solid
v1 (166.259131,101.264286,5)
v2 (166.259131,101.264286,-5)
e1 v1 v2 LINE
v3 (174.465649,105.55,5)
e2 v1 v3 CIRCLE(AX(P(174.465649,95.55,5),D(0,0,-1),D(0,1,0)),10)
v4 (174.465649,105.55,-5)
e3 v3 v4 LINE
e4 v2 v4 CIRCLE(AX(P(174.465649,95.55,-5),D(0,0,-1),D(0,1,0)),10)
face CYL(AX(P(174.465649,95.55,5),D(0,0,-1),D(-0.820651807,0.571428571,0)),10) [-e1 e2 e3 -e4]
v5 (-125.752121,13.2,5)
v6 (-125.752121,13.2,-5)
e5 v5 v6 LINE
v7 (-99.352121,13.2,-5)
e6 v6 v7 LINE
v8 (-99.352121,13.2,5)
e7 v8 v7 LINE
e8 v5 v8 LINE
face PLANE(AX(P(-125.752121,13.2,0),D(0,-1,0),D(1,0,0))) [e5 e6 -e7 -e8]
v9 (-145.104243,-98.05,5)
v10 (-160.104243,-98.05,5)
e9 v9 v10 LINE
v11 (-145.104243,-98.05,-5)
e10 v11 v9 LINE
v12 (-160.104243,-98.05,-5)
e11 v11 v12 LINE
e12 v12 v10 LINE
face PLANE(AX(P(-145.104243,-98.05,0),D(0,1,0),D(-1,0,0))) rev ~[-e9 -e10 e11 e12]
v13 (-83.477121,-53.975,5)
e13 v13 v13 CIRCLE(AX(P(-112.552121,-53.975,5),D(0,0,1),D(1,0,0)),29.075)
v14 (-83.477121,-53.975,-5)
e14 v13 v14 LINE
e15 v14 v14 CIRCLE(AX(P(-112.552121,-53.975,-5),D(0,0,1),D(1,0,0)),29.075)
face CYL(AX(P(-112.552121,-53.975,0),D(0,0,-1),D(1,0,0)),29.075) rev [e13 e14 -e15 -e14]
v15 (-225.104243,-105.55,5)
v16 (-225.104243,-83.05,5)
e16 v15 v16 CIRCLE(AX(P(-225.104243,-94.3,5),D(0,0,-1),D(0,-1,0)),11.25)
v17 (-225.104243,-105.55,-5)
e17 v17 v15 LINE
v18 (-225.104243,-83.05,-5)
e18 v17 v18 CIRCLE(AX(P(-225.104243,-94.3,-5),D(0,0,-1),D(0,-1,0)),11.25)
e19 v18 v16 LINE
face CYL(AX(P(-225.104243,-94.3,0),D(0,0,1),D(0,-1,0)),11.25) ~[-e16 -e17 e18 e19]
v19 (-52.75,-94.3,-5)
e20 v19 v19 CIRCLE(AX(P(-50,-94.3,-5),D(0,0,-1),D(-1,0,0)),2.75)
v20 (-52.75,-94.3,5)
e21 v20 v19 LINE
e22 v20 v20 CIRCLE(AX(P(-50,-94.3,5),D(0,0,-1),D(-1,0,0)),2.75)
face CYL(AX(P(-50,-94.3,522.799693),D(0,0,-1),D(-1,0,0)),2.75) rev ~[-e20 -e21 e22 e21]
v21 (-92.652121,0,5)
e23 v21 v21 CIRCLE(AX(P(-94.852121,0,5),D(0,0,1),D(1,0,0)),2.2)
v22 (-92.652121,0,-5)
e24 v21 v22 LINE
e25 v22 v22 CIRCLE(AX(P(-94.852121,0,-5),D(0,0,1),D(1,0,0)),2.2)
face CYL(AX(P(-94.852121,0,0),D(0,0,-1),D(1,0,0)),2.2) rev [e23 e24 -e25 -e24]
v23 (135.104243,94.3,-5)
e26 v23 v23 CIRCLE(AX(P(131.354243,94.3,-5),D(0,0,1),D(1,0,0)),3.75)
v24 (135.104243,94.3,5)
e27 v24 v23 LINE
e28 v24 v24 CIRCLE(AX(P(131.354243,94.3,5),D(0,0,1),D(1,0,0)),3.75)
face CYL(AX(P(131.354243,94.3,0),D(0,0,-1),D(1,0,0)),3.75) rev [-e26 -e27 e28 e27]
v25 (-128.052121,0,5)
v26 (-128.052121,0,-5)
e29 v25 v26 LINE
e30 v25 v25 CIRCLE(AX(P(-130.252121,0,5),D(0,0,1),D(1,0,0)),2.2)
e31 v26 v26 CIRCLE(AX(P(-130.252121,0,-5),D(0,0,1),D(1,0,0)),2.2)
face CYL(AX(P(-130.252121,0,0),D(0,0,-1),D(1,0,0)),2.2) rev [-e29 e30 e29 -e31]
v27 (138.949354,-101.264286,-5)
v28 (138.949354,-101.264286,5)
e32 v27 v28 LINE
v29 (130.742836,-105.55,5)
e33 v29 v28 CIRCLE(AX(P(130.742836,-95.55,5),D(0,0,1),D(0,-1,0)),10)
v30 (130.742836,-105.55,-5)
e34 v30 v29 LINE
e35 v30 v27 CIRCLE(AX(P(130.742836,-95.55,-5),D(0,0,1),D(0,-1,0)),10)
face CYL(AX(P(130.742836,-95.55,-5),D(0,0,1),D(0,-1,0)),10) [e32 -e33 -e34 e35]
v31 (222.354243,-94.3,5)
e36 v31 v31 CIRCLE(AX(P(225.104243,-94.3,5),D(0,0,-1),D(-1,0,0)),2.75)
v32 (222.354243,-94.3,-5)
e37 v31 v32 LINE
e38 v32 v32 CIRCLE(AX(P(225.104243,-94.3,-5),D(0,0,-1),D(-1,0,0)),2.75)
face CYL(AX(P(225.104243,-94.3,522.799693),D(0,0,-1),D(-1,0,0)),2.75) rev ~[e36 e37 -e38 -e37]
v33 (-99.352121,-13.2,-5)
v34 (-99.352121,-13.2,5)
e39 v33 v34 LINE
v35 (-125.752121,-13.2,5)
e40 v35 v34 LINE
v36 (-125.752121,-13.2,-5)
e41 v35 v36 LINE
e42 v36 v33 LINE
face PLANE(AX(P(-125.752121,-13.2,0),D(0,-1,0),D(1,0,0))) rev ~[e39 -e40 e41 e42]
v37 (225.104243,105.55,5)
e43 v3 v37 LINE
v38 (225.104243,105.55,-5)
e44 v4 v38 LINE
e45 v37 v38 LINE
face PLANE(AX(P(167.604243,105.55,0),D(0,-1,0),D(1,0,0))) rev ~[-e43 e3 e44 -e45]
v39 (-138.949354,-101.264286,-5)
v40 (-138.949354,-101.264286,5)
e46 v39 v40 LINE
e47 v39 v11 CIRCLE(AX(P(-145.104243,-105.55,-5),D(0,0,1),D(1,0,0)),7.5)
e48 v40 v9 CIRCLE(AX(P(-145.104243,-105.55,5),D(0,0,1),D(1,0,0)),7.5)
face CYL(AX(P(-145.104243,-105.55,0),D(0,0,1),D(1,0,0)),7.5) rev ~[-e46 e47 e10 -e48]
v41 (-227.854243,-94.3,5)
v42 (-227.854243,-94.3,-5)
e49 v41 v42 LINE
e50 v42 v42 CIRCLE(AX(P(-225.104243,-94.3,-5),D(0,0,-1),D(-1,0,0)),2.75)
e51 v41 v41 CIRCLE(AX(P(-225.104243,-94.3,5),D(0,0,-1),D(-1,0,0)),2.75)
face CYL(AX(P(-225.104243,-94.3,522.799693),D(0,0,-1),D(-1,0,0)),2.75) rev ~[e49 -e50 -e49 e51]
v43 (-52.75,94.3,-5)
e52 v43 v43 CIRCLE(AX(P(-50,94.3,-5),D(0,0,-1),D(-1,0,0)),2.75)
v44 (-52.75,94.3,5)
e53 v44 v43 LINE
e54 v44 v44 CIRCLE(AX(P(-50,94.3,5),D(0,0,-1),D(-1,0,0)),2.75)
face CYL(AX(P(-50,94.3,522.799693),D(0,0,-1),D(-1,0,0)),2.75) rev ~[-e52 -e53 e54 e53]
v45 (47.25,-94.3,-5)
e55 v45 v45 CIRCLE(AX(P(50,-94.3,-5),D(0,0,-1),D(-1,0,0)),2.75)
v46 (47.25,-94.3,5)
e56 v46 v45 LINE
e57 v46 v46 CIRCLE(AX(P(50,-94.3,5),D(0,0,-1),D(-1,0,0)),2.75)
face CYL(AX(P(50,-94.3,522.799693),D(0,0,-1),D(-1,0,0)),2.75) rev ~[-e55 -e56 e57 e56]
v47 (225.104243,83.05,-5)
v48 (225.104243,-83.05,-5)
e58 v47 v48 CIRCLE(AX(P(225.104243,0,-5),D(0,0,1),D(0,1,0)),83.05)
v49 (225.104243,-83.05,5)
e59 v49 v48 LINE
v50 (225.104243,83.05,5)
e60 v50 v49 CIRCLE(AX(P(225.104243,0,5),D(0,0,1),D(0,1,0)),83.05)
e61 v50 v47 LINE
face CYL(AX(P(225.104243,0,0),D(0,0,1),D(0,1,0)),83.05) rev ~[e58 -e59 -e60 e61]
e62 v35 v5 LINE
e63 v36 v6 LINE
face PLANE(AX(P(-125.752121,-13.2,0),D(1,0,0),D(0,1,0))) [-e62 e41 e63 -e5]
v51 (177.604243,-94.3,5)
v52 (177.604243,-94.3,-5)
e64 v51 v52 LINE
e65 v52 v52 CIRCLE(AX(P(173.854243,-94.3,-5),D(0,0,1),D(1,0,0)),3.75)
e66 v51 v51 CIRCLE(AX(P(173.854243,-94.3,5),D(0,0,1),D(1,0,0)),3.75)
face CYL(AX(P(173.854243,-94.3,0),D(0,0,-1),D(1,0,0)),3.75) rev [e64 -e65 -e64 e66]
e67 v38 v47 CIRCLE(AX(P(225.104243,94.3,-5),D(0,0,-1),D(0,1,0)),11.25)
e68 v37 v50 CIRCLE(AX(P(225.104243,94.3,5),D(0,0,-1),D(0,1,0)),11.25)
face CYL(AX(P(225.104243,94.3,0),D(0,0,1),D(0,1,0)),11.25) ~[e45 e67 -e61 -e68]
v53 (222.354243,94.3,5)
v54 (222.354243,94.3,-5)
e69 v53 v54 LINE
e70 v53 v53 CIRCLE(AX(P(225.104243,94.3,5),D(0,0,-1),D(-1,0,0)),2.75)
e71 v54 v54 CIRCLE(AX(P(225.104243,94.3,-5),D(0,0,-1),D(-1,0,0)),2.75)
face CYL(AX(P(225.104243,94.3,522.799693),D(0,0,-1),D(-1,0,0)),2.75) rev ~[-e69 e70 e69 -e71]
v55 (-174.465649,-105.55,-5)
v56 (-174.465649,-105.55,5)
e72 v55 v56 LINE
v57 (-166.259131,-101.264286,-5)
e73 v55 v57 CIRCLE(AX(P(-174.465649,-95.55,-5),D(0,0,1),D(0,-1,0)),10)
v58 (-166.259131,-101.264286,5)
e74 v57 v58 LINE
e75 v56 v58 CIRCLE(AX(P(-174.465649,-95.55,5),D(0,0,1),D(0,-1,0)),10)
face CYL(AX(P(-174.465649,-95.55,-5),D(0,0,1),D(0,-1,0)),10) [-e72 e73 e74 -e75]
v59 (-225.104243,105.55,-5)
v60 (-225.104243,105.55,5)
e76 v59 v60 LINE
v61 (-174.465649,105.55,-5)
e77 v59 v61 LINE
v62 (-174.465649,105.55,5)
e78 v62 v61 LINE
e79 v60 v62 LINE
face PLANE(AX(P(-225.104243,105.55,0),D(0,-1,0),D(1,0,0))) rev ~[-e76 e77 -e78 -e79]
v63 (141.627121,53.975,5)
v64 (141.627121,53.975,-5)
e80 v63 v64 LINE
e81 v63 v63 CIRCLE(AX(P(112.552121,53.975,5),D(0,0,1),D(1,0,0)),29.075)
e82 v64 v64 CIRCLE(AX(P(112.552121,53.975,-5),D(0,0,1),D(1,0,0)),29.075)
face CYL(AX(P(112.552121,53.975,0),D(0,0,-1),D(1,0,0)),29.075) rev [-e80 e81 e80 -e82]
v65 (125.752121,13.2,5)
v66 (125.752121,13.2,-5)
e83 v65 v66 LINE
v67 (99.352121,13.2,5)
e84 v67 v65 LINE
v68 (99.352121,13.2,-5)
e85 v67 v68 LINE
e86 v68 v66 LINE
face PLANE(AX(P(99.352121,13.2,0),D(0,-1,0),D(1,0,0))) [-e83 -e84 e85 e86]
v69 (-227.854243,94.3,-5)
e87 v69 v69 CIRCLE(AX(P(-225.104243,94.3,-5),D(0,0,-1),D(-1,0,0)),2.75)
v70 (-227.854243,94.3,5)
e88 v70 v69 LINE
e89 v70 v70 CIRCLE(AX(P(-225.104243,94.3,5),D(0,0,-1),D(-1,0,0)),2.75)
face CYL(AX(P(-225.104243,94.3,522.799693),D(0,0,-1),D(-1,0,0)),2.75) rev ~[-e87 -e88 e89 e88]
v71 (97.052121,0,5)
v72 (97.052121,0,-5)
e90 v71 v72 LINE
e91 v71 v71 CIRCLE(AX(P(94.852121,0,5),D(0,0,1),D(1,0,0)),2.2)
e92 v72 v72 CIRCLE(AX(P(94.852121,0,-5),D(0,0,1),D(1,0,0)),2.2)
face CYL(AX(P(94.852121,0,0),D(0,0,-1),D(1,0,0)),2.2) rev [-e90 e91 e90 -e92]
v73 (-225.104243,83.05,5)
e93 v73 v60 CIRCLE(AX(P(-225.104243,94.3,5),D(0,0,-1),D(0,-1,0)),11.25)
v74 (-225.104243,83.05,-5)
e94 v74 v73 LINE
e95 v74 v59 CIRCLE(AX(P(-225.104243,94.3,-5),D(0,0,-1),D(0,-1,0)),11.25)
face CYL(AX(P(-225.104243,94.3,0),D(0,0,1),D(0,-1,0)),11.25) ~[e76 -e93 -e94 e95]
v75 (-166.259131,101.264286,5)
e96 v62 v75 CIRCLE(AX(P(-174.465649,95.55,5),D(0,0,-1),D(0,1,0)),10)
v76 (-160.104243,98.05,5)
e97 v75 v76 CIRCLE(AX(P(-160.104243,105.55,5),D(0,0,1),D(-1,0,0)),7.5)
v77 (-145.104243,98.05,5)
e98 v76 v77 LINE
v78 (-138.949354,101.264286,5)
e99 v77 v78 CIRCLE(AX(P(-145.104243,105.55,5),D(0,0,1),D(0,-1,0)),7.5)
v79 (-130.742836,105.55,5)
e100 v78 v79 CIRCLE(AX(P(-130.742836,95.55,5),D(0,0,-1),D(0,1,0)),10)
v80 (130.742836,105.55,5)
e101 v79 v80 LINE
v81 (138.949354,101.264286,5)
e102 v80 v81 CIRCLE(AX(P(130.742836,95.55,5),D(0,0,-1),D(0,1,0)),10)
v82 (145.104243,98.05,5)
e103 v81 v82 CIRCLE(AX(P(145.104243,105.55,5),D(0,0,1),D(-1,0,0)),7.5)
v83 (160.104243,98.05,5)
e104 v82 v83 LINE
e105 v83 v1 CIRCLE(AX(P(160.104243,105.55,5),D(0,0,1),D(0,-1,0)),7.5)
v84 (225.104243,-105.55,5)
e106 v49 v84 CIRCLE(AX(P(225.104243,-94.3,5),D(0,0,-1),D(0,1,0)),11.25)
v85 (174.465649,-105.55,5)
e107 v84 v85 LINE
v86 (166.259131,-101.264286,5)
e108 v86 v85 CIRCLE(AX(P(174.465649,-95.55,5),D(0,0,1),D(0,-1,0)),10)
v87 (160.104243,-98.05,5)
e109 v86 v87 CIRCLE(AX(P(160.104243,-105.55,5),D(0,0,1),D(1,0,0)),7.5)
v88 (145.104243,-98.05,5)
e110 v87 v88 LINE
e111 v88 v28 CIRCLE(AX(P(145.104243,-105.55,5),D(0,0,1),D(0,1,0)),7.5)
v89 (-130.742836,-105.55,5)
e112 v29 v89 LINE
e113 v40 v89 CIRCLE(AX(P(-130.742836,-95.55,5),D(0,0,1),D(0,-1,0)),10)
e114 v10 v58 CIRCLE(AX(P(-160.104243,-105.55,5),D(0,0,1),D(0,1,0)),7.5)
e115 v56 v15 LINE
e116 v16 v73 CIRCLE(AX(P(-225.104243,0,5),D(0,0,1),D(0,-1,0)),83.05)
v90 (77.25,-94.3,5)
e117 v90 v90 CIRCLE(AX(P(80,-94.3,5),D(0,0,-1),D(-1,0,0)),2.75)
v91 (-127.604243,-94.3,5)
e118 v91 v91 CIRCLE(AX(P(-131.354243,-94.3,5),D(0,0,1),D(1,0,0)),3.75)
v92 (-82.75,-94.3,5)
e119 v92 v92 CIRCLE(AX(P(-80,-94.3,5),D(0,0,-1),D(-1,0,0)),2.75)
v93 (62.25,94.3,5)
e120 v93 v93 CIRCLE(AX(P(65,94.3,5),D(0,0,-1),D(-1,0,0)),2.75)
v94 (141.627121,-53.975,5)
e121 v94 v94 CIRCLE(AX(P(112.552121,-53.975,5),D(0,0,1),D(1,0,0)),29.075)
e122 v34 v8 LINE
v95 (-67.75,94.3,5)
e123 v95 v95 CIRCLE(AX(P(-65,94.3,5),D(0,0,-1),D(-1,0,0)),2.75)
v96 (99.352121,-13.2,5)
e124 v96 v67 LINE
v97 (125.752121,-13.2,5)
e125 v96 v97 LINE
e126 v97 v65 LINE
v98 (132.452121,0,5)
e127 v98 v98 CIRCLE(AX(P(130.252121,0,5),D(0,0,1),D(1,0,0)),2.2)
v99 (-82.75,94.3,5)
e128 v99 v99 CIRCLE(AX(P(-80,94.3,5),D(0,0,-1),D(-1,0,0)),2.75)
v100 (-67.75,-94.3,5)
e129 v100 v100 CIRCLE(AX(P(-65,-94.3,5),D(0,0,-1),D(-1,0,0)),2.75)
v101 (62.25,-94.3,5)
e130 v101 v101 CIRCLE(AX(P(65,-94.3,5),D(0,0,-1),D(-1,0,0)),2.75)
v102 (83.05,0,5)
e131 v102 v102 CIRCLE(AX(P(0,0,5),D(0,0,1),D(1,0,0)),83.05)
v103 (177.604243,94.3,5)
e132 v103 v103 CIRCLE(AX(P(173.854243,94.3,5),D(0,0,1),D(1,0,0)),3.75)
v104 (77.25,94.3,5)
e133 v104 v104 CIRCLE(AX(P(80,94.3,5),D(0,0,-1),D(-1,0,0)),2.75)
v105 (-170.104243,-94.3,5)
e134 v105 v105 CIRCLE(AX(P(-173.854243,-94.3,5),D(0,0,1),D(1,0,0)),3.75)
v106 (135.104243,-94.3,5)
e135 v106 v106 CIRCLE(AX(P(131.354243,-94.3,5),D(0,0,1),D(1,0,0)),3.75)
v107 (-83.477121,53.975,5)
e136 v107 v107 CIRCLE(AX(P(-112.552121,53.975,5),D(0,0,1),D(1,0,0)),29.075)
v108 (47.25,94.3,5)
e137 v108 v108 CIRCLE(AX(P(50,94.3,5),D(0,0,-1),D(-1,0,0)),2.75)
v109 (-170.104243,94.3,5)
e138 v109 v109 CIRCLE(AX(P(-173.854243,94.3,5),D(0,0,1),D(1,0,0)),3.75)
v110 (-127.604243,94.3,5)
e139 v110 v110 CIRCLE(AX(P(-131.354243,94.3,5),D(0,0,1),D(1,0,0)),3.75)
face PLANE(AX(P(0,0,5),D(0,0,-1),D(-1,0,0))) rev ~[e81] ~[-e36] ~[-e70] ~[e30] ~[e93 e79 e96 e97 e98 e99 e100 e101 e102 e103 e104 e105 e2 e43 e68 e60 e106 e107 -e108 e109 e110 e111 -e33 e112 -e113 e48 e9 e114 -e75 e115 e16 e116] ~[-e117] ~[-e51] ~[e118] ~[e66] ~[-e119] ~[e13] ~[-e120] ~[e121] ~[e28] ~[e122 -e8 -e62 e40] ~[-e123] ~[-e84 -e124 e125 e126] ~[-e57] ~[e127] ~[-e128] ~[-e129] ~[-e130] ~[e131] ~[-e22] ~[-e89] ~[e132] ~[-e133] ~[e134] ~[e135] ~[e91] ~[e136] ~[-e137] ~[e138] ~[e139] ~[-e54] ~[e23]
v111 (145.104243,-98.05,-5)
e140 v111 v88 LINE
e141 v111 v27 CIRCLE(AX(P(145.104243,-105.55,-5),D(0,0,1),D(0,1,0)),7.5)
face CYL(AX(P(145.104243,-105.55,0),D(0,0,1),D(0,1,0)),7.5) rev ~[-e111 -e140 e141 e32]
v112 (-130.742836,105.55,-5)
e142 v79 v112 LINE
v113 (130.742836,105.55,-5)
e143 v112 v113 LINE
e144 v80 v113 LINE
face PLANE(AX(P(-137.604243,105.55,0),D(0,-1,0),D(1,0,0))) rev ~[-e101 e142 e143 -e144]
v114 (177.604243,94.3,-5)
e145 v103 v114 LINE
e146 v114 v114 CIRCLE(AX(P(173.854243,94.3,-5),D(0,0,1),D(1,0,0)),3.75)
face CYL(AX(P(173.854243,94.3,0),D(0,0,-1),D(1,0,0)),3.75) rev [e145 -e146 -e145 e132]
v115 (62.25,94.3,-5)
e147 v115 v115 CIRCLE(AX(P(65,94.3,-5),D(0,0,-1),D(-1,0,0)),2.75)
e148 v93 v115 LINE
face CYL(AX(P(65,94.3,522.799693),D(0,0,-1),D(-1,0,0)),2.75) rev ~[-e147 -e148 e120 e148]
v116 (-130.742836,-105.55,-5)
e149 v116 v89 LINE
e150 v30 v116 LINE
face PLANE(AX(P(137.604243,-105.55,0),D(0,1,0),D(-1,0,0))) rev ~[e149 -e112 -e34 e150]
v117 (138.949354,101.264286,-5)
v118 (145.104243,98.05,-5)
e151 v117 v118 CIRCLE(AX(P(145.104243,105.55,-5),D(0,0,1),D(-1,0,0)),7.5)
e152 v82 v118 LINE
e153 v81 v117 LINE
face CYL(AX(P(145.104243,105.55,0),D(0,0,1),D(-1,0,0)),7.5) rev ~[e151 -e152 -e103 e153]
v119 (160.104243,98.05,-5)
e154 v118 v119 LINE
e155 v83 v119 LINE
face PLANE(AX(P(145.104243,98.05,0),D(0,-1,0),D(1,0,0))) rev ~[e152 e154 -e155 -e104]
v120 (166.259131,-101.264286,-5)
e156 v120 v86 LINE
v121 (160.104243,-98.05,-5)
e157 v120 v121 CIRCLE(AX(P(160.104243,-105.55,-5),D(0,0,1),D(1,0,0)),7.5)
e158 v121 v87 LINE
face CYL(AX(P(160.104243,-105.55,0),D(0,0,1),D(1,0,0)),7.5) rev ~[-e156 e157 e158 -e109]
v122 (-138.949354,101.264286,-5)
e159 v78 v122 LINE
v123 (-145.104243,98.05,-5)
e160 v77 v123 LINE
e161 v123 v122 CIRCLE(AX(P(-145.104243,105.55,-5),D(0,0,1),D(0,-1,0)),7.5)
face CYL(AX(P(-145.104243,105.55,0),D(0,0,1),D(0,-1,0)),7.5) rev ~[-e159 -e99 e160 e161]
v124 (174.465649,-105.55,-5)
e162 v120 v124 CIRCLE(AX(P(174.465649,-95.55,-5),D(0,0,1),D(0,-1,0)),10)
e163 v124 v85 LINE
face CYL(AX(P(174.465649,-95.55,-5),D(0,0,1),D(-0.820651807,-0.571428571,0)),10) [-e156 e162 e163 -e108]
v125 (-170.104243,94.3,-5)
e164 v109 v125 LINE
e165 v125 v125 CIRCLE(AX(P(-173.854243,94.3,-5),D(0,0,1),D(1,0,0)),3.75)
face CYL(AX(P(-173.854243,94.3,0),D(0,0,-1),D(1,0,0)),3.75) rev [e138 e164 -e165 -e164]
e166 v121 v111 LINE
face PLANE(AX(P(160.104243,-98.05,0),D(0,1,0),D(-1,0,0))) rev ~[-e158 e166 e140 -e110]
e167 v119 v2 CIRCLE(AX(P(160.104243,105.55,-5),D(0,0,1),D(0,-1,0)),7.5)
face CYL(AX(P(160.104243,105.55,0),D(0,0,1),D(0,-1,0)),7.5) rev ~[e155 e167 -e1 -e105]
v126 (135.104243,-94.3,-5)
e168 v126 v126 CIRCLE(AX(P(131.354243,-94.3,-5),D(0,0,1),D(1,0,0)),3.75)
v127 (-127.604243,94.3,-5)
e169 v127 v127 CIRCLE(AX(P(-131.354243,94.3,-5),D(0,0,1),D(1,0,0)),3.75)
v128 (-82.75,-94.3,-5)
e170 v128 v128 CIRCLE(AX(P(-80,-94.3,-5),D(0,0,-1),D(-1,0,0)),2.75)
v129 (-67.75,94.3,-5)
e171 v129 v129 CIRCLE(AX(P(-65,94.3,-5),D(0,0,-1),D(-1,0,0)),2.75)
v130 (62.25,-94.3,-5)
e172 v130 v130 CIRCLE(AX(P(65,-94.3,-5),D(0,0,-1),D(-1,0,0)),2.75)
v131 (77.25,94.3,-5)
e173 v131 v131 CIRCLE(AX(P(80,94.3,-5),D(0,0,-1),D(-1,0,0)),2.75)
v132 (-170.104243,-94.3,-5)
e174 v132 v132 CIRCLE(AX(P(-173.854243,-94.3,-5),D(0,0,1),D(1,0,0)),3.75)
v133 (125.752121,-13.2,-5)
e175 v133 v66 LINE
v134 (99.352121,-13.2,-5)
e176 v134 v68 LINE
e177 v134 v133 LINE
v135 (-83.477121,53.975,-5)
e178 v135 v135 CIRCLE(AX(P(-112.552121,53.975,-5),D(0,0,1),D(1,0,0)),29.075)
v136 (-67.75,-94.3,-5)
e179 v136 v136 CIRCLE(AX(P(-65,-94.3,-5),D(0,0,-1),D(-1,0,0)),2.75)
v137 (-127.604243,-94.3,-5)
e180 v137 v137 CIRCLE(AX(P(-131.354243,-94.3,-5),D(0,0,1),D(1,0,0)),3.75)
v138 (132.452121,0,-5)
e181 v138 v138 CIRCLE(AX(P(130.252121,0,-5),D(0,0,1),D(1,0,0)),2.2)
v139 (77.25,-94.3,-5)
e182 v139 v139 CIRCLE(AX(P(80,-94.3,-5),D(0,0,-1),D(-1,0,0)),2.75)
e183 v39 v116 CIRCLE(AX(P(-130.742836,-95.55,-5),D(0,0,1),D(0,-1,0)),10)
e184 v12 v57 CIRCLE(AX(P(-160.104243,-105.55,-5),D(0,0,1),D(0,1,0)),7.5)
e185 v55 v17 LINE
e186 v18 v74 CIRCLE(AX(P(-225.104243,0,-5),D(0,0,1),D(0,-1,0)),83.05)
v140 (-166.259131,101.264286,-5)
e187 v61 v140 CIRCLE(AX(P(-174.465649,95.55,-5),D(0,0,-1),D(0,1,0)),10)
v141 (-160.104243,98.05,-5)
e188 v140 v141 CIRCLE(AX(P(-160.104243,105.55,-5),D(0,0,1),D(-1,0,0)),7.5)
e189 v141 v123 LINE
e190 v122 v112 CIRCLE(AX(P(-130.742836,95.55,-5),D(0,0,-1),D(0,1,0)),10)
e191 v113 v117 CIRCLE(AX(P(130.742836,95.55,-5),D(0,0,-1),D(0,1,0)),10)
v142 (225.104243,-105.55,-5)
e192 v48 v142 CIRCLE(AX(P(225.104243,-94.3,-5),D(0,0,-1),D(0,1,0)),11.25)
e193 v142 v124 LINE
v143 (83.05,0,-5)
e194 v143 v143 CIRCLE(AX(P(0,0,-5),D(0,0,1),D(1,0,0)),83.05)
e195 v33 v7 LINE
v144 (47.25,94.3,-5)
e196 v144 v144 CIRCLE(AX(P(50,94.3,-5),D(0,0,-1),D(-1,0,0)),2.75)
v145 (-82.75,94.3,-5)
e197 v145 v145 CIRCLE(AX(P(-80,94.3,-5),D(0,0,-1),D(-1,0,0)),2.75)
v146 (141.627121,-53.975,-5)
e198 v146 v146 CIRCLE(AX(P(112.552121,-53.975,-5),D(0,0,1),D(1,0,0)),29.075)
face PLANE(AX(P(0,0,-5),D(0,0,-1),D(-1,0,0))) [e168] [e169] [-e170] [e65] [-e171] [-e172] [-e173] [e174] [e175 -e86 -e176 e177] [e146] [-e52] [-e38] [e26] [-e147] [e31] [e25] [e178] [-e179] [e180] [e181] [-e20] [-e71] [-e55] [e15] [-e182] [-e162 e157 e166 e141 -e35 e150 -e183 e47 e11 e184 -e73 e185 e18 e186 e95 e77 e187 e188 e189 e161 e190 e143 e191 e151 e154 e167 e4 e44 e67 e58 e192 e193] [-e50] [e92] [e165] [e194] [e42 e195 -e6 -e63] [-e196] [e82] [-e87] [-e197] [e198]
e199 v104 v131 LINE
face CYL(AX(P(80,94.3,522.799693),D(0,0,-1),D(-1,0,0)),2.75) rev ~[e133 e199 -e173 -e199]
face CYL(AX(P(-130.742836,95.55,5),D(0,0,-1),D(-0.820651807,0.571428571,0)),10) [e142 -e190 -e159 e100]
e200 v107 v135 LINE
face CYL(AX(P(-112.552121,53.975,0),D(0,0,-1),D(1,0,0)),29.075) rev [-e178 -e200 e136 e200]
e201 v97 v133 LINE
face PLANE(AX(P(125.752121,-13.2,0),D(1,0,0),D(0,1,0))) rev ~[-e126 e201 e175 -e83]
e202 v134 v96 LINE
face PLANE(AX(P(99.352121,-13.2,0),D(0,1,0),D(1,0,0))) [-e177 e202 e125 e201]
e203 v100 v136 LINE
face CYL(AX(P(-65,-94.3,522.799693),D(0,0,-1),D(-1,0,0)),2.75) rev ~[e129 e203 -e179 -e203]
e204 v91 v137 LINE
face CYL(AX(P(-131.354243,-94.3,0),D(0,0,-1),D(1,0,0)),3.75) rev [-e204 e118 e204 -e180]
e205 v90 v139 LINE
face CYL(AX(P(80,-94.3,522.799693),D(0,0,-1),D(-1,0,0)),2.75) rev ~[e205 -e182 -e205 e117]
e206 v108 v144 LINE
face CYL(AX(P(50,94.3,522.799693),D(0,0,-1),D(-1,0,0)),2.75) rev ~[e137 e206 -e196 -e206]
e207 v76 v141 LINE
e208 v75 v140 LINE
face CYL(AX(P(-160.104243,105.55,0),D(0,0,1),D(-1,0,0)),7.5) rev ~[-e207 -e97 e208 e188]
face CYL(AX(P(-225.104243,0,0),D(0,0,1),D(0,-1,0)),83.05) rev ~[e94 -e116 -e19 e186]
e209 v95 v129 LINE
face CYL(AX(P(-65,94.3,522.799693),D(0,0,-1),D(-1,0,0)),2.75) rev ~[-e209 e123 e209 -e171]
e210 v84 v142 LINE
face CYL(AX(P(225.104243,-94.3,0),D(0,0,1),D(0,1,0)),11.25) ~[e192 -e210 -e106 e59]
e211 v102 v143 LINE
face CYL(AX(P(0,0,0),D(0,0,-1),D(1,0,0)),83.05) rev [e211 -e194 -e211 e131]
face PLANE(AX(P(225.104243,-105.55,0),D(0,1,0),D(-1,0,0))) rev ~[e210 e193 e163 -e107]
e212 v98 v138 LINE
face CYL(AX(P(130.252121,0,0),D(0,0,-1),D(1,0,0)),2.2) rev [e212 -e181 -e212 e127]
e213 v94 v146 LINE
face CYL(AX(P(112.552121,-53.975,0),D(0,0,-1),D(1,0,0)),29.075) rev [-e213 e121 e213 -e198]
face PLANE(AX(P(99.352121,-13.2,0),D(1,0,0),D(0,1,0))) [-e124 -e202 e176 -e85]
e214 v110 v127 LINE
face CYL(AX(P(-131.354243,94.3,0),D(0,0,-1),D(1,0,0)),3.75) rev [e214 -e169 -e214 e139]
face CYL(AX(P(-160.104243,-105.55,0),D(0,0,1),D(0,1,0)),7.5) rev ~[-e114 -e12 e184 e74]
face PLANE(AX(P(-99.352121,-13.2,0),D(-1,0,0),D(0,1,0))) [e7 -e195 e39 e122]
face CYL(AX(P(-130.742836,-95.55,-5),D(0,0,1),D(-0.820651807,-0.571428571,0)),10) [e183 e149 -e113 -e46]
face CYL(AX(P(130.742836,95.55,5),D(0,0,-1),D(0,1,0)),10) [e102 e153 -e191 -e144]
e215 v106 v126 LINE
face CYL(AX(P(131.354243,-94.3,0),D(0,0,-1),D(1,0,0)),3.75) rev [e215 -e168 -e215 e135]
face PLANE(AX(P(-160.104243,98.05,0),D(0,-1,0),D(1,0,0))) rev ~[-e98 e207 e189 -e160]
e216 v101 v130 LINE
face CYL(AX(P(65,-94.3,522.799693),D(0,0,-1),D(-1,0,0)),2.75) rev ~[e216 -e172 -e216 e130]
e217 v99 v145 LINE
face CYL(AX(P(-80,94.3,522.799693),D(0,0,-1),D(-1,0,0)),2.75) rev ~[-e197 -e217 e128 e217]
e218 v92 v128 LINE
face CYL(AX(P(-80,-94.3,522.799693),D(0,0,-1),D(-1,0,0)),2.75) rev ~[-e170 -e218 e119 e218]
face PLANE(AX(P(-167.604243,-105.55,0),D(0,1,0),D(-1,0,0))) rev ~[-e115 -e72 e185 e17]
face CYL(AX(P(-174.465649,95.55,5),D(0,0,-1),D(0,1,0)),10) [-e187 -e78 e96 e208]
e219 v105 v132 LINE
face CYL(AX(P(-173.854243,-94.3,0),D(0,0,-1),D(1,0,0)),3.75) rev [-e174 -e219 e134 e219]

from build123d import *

# Parameters (mm, degrees)
SKETCH1_R            = 83.05
SKETCH1_R_2          = 29.075
SKETCH1_R_3          = 2.2
SKETCH1_R_4          = 3.75
SKETCH1_W            = 26.4
SKETCH1_H            = 26.4
BOSS_EXTRUDE1_DEPTH  = 5
M5_CLEARANCE_HOLE1_D = 5.5
FILLET1_R            = 10


with BuildPart() as part:
    # Sketch1 → Boss-Extrude1 (new body, symmetric)
    with BuildSketch(Plane.XY):
        with BuildLine():
            Line((-225.104242519, 105.55), (-167.604242519, 105.55))
            ThreePointArc((-167.604242519, 105.55), (-165.407543378, 100.246699141), (-160.104242519, 98.05))
            Line((-160.104242519, 98.05), (-145.104242519, 98.05))
            ThreePointArc((-145.104242519, 98.05), (-139.80094166, 100.246699141), (-137.604242519, 105.55))
            Line((-137.604242519, 105.55), (137.604242519, 105.55))
            ThreePointArc((137.604242519, 105.55), (139.80094166, 100.246699141), (145.104242519, 98.05))
            Line((145.104242519, 98.05), (160.104242519, 98.05))
            ThreePointArc((160.104242519, 98.05), (165.407543378, 100.246699141), (167.604242519, 105.55))
            Line((167.604242519, 105.55), (225.104242519, 105.55))
            ThreePointArc((225.104242519, 105.55), (236.354242519, 94.3), (225.104242519, 83.05))
            ThreePointArc((225.104242519, 83.05), (142.054242519, 0), (225.104242519, -83.05))
            ThreePointArc((225.104242519, -83.05), (236.354242519, -94.3), (225.104242519, -105.55))
            Line((225.104242519, -105.55), (167.604242519, -105.55))
            ThreePointArc((167.604242519, -105.55), (165.407543378, -100.246699141), (160.104242519, -98.05))
            Line((160.104242519, -98.05), (145.104242519, -98.05))
            ThreePointArc((145.104242519, -98.05), (139.80094166, -100.246699141), (137.604242519, -105.55))
            Line((137.604242519, -105.55), (-137.604242519, -105.55))
            ThreePointArc((-137.604242519, -105.55), (-139.80094166, -100.246699141), (-145.104242519, -98.05))
            Line((-145.104242519, -98.05), (-160.104242519, -98.05))
            ThreePointArc((-160.104242519, -98.05), (-165.407543378, -100.246699141), (-167.604242519, -105.55))
            Line((-167.604242519, -105.55), (-225.104242519, -105.55))
            ThreePointArc((-225.104242519, -105.55), (-236.354242519, -94.3), (-225.104242519, -83.05))
            ThreePointArc((-225.104242519, -83.05), (-142.054242519, 0), (-225.104242519, 83.05))
            ThreePointArc((-225.104242519, 83.05), (-236.354242519, 94.3), (-225.104242519, 105.55))
        make_face()
        Circle(SKETCH1_R, mode=Mode.SUBTRACT)
        with Locations((112.552121259, 53.975)):
            Circle(SKETCH1_R_2, mode=Mode.SUBTRACT)
        with Locations((112.552121259, -53.975)):
            Circle(SKETCH1_R_2, mode=Mode.SUBTRACT)
        with Locations((-112.552121259, -53.975)):
            Circle(SKETCH1_R_2, mode=Mode.SUBTRACT)
        with Locations((-112.552121259, 53.975)):
            Circle(SKETCH1_R_2, mode=Mode.SUBTRACT)
        with Locations((94.852121259, 0)):
            Circle(SKETCH1_R_3, mode=Mode.SUBTRACT)
        with Locations((130.252121259, 0)):
            Circle(SKETCH1_R_3, mode=Mode.SUBTRACT)
        with Locations((-130.252121259, 0)):
            Circle(SKETCH1_R_3, mode=Mode.SUBTRACT)
        with Locations((-94.852121259, 0)):
            Circle(SKETCH1_R_3, mode=Mode.SUBTRACT)
        with Locations((-173.854242519, 94.3)):
            Circle(SKETCH1_R_4, mode=Mode.SUBTRACT)
        with Locations((-131.354242519, 94.3)):
            Circle(SKETCH1_R_4, mode=Mode.SUBTRACT)
        with Locations((-131.354242519, -94.3)):
            Circle(SKETCH1_R_4, mode=Mode.SUBTRACT)
        with Locations((-173.854242519, -94.3)):
            Circle(SKETCH1_R_4, mode=Mode.SUBTRACT)
        with Locations((131.354242519, -94.3)):
            Circle(SKETCH1_R_4, mode=Mode.SUBTRACT)
        with Locations((173.854242519, -94.3)):
            Circle(SKETCH1_R_4, mode=Mode.SUBTRACT)
        with Locations((131.354242519, 94.3)):
            Circle(SKETCH1_R_4, mode=Mode.SUBTRACT)
        with Locations((173.854242519, 94.3)):
            Circle(SKETCH1_R_4, mode=Mode.SUBTRACT)
        with Locations((-112.552121259, 0)):
            Rectangle(SKETCH1_W, SKETCH1_H, mode=Mode.SUBTRACT)
        with Locations((112.552121259, 0)):
            Rectangle(SKETCH1_W, SKETCH1_H, mode=Mode.SUBTRACT)
    extrude(amount=BOSS_EXTRUDE1_DEPTH, both=True)

    # M5 Clearance Hole1 (through all)
    with Locations(Plane.XY.offset(5)):
        with Locations((-80, 94.3), (-65, 94.3), (-50, 94.3), (50, 94.3), (65, 94.3), (80, 94.3), (-80, -94.3), (-65, -94.3), (-50, -94.3), (50, -94.3), (65, -94.3), (80, -94.3), (0, 0), (-225.104242519, 94.3), (225.104242519, 94.3), (225.104242519, -94.3), (-225.104242519, -94.3)):
            Hole(M5_CLEARANCE_HOLE1_D / 2)

    # Fillet1
    fillet1_edges = [part.edges().sort_by_distance(p)[0] for p in [
        (167.604242519, -105.55, 0),
        (137.604242519, -105.55, 0),
        (-137.604242519, -105.55, 0),
        (-167.604242519, -105.55, 0),
        (-167.604242519, 105.55, 0),
        (-137.604242519, 105.55, 0),
        (137.604242519, 105.55, 0),
        (167.604242519, 105.55, 0),
    ]]
    fillet(fillet1_edges, radius=FILLET1_R)


solid = part.part
